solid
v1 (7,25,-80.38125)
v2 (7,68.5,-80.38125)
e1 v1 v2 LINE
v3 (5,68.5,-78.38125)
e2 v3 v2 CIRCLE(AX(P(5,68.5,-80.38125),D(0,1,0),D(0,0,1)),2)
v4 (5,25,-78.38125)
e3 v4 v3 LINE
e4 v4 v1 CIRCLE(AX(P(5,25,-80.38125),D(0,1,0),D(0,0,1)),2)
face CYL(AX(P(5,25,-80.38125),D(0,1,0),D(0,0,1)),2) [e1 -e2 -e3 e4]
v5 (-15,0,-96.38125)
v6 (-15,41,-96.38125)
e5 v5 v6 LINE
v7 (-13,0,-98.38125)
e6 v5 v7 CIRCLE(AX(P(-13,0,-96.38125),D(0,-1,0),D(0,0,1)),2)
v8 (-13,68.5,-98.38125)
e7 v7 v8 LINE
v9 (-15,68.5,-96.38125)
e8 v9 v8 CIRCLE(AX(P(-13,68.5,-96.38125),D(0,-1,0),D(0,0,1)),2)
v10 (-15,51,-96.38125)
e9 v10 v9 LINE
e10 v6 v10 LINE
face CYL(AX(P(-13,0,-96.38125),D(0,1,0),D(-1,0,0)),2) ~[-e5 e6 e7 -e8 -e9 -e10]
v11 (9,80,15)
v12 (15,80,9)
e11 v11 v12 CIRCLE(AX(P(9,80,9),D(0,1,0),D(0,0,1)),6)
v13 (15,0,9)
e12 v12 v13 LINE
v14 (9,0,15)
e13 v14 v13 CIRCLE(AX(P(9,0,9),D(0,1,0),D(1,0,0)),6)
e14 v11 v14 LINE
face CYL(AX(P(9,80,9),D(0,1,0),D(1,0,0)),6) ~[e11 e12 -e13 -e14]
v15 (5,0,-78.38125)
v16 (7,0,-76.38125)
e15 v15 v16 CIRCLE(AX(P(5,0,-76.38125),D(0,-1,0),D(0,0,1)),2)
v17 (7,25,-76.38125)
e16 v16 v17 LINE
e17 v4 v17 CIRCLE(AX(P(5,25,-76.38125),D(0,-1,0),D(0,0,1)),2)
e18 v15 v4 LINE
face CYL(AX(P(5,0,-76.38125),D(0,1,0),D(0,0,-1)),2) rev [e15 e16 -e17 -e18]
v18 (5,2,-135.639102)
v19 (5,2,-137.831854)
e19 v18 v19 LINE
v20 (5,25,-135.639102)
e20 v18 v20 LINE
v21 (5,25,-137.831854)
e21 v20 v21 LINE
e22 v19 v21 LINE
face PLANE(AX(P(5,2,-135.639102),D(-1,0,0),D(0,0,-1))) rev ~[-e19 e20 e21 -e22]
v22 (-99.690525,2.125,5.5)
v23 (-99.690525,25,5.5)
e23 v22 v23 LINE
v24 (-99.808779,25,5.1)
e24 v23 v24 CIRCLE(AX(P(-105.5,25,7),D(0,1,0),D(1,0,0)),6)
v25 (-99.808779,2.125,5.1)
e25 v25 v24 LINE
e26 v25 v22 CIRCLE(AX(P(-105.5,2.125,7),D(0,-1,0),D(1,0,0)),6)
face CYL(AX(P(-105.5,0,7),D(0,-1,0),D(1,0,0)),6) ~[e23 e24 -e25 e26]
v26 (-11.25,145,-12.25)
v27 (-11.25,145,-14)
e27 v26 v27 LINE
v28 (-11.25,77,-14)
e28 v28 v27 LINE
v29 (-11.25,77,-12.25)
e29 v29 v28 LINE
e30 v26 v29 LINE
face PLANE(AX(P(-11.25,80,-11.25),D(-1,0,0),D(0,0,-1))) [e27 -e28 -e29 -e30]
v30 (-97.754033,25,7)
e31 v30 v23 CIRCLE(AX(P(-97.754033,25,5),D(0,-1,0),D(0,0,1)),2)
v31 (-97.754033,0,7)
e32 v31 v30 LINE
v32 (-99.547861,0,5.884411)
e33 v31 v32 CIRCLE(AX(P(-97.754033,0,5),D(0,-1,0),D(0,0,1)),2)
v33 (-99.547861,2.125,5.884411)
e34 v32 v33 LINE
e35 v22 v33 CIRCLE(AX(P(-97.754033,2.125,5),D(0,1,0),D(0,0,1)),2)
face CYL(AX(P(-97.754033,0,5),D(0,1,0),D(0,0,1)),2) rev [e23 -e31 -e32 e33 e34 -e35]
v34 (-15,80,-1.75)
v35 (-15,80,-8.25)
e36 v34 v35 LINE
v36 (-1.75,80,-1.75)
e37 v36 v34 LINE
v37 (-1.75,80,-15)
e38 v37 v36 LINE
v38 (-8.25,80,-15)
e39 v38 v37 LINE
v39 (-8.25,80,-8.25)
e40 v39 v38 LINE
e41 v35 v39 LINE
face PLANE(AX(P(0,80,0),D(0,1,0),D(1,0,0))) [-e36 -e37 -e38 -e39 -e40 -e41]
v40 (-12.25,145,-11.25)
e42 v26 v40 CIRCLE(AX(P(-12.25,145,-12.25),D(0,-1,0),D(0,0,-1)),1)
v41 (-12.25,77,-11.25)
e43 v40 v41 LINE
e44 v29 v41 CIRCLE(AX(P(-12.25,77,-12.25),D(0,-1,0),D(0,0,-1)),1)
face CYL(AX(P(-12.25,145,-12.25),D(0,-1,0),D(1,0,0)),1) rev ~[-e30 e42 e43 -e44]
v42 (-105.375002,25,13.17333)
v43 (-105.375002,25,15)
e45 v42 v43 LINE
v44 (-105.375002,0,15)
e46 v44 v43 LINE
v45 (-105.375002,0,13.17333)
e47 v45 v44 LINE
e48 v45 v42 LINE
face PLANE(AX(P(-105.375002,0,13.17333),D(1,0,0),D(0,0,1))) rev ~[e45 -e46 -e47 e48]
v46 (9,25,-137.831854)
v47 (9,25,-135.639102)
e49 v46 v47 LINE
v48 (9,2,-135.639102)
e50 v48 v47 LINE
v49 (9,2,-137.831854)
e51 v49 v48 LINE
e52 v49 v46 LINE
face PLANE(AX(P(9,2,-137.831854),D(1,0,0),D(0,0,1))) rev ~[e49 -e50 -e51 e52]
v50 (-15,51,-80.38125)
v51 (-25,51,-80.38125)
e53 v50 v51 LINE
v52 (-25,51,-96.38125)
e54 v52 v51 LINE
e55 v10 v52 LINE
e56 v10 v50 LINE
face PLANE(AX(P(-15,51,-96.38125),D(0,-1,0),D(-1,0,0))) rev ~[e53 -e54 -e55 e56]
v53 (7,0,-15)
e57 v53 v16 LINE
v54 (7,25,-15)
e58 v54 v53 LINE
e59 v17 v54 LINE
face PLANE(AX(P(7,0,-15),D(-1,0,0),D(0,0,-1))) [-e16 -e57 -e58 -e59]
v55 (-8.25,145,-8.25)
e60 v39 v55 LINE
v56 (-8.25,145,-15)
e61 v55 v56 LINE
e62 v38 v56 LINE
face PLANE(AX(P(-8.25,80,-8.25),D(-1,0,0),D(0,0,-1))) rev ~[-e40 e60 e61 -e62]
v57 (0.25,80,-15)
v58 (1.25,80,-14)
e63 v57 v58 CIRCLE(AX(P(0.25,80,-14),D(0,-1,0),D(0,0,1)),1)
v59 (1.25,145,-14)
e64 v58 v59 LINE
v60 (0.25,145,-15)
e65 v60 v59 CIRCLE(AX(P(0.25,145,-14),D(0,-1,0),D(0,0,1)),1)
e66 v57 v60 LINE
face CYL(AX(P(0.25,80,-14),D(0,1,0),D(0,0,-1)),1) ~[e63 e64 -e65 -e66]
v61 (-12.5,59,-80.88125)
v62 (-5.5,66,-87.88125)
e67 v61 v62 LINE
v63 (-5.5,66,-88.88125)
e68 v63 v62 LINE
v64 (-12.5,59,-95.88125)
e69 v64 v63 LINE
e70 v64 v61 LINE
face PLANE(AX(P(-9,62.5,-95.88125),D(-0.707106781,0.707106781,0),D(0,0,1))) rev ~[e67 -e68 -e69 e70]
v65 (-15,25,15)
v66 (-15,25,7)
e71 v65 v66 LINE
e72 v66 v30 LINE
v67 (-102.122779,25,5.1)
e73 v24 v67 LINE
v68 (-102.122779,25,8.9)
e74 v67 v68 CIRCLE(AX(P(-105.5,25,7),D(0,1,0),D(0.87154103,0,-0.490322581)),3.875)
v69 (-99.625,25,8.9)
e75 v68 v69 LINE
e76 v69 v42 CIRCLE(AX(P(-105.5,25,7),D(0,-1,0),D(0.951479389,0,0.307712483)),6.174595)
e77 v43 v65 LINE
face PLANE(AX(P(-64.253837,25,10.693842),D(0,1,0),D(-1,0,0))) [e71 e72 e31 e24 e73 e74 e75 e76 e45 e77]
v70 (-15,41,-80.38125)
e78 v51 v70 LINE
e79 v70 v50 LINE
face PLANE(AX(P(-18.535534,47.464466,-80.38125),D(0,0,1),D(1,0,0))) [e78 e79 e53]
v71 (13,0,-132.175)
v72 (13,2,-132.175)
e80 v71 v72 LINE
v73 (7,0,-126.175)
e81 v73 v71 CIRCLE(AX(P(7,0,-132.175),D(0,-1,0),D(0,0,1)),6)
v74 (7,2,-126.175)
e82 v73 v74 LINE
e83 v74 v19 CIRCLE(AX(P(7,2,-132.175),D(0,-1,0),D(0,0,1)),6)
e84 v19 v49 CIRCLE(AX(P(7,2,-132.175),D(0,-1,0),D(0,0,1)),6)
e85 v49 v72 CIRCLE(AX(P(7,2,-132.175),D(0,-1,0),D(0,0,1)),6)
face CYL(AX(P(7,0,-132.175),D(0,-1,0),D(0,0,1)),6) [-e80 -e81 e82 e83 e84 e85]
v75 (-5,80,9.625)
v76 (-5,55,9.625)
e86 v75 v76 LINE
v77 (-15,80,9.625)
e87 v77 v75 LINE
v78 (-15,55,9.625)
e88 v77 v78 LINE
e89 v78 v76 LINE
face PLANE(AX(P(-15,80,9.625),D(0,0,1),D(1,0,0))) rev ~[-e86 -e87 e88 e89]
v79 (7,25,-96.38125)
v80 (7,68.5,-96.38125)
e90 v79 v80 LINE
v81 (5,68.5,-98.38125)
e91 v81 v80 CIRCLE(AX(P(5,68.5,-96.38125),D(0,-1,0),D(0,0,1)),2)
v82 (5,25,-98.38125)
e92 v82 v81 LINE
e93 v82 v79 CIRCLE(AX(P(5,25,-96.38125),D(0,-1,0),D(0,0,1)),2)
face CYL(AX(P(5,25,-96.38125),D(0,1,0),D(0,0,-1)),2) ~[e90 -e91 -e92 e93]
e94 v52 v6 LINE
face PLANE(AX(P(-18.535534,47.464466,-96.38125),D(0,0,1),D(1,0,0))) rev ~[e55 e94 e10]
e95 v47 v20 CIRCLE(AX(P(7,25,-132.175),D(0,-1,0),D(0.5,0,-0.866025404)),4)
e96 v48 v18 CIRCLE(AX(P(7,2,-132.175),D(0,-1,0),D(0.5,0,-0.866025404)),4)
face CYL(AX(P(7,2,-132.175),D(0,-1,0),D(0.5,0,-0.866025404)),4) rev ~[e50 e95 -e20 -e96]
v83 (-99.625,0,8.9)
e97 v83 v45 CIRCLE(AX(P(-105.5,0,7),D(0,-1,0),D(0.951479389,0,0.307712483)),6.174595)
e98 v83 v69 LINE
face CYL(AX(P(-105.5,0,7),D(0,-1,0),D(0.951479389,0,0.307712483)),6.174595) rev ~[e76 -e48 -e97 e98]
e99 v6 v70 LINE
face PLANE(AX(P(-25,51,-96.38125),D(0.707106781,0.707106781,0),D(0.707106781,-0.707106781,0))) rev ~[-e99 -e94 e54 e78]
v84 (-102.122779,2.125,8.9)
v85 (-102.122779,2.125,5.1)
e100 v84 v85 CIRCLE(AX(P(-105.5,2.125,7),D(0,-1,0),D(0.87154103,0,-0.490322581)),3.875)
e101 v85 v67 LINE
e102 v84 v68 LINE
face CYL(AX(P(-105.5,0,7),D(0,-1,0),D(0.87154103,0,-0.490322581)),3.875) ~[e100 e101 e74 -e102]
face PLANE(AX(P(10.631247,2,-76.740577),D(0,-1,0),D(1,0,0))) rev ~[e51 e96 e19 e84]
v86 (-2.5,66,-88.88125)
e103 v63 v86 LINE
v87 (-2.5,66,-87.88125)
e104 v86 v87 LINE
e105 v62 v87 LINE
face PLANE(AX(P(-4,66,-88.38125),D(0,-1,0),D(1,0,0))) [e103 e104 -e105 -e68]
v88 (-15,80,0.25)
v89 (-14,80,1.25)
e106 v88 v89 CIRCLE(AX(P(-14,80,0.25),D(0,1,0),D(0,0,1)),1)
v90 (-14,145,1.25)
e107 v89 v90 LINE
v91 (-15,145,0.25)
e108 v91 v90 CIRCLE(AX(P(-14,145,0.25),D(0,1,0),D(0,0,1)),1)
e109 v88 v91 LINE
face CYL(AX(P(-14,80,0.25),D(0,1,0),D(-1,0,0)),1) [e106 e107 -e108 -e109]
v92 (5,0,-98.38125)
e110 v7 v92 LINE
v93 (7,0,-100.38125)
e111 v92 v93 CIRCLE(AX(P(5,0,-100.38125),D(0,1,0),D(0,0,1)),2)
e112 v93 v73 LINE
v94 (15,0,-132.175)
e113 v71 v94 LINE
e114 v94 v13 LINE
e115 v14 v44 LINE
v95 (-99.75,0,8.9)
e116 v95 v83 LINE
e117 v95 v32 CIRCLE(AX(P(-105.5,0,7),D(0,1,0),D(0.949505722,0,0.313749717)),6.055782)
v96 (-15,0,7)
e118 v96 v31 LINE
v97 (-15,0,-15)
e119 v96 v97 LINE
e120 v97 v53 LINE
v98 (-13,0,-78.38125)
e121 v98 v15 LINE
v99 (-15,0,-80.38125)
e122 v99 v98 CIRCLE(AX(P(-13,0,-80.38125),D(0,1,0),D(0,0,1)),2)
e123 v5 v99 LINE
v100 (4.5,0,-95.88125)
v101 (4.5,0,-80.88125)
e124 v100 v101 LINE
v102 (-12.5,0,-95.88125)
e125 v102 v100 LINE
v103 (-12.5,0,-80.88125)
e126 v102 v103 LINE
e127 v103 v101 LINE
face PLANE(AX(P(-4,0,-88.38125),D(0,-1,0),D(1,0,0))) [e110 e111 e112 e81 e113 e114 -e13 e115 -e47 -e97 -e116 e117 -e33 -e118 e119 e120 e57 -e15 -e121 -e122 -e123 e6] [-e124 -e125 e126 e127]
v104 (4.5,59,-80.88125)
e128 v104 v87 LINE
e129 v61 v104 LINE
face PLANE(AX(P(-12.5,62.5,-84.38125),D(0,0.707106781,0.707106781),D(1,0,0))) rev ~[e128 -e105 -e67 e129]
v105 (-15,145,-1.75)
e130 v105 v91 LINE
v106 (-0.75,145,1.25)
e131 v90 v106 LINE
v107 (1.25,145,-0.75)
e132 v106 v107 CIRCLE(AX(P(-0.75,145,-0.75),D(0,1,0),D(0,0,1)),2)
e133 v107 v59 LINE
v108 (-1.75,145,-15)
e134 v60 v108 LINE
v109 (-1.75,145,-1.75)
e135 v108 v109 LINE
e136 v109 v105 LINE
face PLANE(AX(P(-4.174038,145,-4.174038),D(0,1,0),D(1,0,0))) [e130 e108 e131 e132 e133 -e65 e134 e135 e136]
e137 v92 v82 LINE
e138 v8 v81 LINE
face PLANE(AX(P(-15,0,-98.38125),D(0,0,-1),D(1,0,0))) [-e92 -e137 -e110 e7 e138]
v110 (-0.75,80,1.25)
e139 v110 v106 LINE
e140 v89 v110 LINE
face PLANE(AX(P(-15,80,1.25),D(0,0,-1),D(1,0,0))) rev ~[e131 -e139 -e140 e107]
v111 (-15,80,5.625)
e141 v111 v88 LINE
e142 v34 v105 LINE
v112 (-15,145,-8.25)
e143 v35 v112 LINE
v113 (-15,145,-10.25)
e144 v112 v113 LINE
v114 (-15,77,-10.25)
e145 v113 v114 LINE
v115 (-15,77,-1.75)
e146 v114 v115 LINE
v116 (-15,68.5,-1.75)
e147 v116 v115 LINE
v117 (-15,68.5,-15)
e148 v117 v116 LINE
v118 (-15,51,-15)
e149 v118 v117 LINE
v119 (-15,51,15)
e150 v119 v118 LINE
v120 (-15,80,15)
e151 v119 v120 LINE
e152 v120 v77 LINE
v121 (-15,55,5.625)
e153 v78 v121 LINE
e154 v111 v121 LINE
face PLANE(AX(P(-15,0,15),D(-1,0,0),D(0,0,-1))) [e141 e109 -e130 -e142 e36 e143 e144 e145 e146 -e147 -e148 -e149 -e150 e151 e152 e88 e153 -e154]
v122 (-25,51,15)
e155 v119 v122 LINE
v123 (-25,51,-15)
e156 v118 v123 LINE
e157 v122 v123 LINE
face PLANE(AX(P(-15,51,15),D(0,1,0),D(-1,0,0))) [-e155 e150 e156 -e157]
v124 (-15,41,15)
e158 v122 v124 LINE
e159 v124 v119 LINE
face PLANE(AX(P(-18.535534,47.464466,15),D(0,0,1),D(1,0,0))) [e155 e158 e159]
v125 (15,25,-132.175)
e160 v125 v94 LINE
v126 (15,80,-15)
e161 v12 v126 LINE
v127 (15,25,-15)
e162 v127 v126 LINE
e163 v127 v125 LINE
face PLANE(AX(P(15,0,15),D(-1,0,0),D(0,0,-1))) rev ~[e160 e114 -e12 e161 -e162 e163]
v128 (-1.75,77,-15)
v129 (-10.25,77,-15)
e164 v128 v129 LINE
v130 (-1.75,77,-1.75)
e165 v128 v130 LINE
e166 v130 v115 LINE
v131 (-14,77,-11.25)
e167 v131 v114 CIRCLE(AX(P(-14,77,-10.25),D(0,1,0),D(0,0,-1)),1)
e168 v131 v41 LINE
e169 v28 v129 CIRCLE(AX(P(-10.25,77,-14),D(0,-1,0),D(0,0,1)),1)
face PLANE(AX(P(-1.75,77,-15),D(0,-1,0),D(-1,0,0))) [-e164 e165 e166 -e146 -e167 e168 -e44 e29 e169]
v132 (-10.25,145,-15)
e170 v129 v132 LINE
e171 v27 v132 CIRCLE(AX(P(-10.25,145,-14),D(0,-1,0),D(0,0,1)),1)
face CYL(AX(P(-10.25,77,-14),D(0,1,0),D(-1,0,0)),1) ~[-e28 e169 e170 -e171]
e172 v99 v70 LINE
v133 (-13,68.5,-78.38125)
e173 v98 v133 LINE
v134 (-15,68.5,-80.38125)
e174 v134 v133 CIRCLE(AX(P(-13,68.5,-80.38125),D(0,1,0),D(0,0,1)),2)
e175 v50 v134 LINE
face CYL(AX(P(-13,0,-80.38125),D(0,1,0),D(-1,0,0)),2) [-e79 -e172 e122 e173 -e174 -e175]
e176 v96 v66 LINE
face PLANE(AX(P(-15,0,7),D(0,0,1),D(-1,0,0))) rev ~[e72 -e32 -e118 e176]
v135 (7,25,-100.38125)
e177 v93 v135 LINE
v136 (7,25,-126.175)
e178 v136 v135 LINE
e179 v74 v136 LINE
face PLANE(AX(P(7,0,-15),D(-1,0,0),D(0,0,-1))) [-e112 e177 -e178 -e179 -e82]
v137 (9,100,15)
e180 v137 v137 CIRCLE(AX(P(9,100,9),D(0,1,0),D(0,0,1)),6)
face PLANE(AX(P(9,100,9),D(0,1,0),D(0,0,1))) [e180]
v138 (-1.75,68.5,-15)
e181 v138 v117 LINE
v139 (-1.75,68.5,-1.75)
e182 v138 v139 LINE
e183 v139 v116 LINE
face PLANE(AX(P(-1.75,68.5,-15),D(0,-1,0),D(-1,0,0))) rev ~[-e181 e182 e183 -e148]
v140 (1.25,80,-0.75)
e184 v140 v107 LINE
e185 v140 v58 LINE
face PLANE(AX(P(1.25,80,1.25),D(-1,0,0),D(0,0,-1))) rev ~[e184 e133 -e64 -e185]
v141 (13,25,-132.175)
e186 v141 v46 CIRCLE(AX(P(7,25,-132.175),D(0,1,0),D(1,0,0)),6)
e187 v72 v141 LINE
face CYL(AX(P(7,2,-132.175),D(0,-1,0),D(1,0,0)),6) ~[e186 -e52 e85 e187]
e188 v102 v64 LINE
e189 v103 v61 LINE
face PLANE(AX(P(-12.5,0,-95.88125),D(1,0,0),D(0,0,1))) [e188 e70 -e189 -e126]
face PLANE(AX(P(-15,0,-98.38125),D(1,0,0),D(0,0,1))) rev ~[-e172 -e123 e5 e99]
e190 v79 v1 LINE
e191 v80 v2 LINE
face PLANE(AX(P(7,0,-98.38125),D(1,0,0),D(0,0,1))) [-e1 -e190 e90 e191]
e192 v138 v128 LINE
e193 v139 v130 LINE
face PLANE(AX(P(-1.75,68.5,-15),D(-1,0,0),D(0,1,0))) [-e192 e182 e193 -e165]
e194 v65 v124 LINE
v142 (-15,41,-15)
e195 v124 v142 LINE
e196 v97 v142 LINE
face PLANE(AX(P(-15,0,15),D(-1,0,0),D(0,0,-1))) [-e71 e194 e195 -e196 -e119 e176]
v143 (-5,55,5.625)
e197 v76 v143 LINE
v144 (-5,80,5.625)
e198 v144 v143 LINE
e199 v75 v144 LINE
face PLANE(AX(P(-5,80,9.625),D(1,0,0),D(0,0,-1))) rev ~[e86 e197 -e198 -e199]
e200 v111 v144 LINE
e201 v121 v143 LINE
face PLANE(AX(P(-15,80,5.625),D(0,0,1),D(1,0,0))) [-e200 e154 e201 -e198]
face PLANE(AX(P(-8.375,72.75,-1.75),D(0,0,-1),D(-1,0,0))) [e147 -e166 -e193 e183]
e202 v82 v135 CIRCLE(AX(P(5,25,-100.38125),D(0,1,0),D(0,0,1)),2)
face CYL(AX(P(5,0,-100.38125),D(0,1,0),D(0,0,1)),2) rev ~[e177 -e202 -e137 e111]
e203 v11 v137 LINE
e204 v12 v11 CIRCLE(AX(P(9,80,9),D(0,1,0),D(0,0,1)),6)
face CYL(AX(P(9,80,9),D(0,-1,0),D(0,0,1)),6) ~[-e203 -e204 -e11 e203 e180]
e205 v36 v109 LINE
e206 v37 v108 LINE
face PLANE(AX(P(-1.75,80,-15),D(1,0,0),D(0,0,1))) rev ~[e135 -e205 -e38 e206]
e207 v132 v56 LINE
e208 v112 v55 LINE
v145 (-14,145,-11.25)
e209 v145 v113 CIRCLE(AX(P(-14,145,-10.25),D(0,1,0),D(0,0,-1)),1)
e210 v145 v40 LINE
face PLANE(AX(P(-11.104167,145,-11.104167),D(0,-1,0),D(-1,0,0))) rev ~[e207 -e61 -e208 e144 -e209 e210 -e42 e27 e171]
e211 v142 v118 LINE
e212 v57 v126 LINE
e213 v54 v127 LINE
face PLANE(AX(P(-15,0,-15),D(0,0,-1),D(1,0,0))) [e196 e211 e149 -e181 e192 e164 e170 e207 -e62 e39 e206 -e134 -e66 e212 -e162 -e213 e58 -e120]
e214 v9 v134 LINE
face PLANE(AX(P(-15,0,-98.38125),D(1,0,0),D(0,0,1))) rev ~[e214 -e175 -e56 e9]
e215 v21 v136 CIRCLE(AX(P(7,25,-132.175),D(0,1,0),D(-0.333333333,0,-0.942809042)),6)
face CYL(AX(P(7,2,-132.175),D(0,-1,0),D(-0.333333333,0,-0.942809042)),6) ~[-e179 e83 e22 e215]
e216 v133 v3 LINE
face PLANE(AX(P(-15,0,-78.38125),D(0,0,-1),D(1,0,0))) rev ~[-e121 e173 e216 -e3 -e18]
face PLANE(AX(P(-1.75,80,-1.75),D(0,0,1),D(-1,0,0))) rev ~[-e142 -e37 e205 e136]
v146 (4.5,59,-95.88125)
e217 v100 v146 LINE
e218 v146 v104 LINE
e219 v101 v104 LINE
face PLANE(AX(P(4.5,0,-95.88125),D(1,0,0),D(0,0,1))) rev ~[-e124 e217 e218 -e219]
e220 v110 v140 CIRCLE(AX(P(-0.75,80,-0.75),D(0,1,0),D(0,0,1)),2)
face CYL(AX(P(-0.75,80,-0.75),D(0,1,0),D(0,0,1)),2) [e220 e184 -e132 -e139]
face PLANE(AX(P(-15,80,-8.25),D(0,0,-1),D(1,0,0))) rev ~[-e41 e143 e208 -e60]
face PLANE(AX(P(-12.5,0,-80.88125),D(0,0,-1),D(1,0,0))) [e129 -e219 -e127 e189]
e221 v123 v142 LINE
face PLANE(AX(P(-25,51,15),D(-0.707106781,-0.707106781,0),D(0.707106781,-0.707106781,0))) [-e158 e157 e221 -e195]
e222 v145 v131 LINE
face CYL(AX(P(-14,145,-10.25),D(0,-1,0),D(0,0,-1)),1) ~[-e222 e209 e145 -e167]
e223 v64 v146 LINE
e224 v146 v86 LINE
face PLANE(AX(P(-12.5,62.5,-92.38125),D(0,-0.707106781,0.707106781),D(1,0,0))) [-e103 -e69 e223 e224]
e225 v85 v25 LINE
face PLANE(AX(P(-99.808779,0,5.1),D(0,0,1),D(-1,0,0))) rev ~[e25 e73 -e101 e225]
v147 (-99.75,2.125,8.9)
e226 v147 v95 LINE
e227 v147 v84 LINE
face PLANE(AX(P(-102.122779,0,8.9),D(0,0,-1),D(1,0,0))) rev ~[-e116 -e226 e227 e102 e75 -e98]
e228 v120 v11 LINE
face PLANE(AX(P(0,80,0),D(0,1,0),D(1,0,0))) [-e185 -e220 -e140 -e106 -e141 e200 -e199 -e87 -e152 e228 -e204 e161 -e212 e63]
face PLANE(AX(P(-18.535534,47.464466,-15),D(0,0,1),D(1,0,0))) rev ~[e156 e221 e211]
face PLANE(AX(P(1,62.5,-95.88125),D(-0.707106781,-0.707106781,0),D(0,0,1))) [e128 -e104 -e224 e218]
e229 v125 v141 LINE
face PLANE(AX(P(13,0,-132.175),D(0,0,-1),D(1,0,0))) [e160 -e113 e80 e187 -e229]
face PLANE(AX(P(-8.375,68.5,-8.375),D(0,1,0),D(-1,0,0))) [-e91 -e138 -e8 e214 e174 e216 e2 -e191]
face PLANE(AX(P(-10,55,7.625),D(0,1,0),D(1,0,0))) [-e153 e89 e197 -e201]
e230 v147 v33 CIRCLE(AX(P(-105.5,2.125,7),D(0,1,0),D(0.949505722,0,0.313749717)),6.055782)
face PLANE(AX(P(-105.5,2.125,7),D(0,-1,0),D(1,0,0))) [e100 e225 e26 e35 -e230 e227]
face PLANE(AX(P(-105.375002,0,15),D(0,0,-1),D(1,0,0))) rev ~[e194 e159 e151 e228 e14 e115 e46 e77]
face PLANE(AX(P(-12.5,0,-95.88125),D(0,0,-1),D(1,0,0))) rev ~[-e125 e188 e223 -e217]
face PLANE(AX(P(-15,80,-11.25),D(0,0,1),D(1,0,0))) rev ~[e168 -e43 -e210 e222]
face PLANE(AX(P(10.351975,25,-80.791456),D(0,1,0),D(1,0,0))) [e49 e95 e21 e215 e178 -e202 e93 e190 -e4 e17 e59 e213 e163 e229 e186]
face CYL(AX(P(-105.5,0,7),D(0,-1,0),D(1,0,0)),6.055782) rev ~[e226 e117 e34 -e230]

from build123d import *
from build123d.topology import SkipClean

# Parameters (mm, degrees)
SKETCH1_W                 = 30
SKETCH1_H                 = 30
BOSS_EXTRUDE1_DEPTH       = 80
SKETCH2_R                 = 6
BOSS_EXTRUDE2_DEPTH       = 20
CUT_EXTRUDE1_DEPTH        = 83.764726786
BOSS_EXTRUDE3_DEPTH       = 65
BOSS_EXTRUDE5_DEPTH       = 2
BOSS_EXTRUDE6_DEPTH       = 23
BOSS_EXTRUDE7_DEPTH       = 25
FILLET1_R                 = 2
SKETCH11_R                = 6.055782361
CUT_EXTRUDE2_DEPTH        = 2.125
SKETCH12_W                = 13.25
SKETCH12_H                = 8.5
CUT_EXTRUDE3_DEPTH        = 13.25
FILLET2_R                 = 2
CUT_EXTRUDE4_REACH        = 195.534
SKETCH14_W                = 3.75
SKETCH14_H                = 3.75
FILLET3_R                 = 1
SKETCH15_W                = 10
SKETCH15_H                = 4
CUT_EXTRUDE5_DEPTH        = 25
BOSS_EXTRUDE8_REACH       = 230.211
SKETCH17_W                = 22
SKETCH17_H                = 20
SKETCH18_W                = 17
SKETCH18_H                = 15
CUT_EXTRUDE6_DEPTH        = 66
FILLET4_R                 = 2
FILLET5_R                 = 2
CHAMFER1_SIZE             = 7
BOSS_EXTRUDE9_DEPTH       = 30
BOSS_EXTRUDE10_DEPTH      = 8
BOSS_EXTRUDE10_DEPTH_BACK = 8


with BuildPart() as part:
    # Sketch1 → Boss-Extrude1 (new body)
    with BuildSketch(Plane(origin=(0, 0, 0), x_dir=(1, 0, 0), z_dir=(0, 1, 0))):
        Rectangle(SKETCH1_W, SKETCH1_H)
    extrude(amount=BOSS_EXTRUDE1_DEPTH)

    # Sketch2 → Boss-Extrude2 (add)
    with BuildSketch(Plane(origin=(0, 80, 0), x_dir=(1, 0, 0), z_dir=(0, 1, 0))):
        with Locations(Location((9, -9, 0), (0, 0, 270))):
            Circle(SKETCH2_R)
    extrude(amount=BOSS_EXTRUDE2_DEPTH)

    # Sketch3 → Cut-Extrude1 (cut, through all)
    with BuildSketch(Plane(origin=(0, 80, 0), x_dir=(1, 0, 0), z_dir=(0, 1, 0))):
        with BuildLine():
            Line((9, -15), (15, -15))
            Line((15, -15), (15, -9))
            ThreePointArc((15, -9), (13.242640687, -13.242640687), (9, -15))
        make_face()
    extrude(amount=-CUT_EXTRUDE1_DEPTH, mode=Mode.SUBTRACT)

    # Sketch4 → Boss-Extrude3 (add)
    with BuildSketch(Plane(origin=(0, 80, 0), x_dir=(1, 0, 0), z_dir=(0, 1, 0))):
        Polygon((-8.25, 11.25), (-8.25, 8.25), (-11.25, 8.25), (-15, 8.25), (-15, 11.25), (-11.25, 11.25), (-11.25, 15), (-8.25, 15), align=None)
        Polygon((-1.75, 1.75), (-11.25, 1.75), (-15, 1.75), (-15, -1.25), (-11.25, -1.25), (1.25, -1.25), (1.25, 11.25), (1.25, 15), (-1.75, 15), (-1.75, 11.25), align=None)
    extrude(amount=BOSS_EXTRUDE3_DEPTH)

    # Sketch6 → Boss-Extrude5 (add)
    with BuildSketch(Plane.XZ):
        with BuildLine():
            Line((15, -15), (7, -15))
            Line((7, -15), (7, -126.175))
            ThreePointArc((7, -126.175), (2.757359313, -136.417640687), (13, -132.175))
            Line((13, -132.175), (15, -132.175))
            Line((15, -132.175), (15, -15))
        make_face()
    extrude(amount=-BOSS_EXTRUDE5_DEPTH)

    # Sketch7 → Boss-Extrude6 (add)
    with SkipClean():  # the faces are left unmerged after this step: merging them gives an invalid solid
        with BuildSketch(Plane(origin=(0, 2, 0), x_dir=(1, 0, 0), z_dir=(0, 1, 0))):
            with BuildLine():
                Line((9, 137.831854249), (9, 135.639101615))
                ThreePointArc((9, 135.639101615), (7, 128.175), (5, 135.639101615))
                Line((5, 135.639101615), (5, 137.831854249))
                ThreePointArc((5, 137.831854249), (1.086408642, 131.160388128), (7, 126.175))
                Line((7, 126.175), (7, 15))
                Line((7, 15), (15, 15))
                Line((15, 15), (15, 132.175))
                Line((15, 132.175), (13, 132.175))
                ThreePointArc((13, 132.175), (11.898979486, 135.639101615), (9, 137.831854249))
            make_face()
        extrude(amount=BOSS_EXTRUDE6_DEPTH)

    # Sketch9 → Boss-Extrude7 (add)
    with SkipClean():  # the faces are left unmerged after this step: merging them gives an invalid solid
        with BuildSketch(Plane.XZ):
            with BuildLine():
                Line((-15, 15), (-15, 7))
                Line((-15, 7), (-99.5, 7))
                ThreePointArc((-99.5, 7), (-99.577697751, 6.037536458), (-99.80877869, 5.1))
                Line((-99.80877869, 5.1), (-102.122778509, 5.1))
                ThreePointArc((-102.122778509, 5.1), (-109.375, 7), (-102.122778509, 8.9))
                Line((-102.122778509, 8.9), (-99.625, 8.9))
                ThreePointArc((-99.625, 8.9), (-101.816885554, 11.955834237), (-105.375001601, 13.173329766))
                Line((-105.375001601, 13.173329766), (-105.375001601, 15))
                Line((-105.375001601, 15), (-15, 15))
            make_face()
        extrude(amount=-BOSS_EXTRUDE7_DEPTH)

    # Fillet1
    fillet1_edges = [part.edges().sort_by_distance(p)[0] for p in [
        (-99.5, 12.5, 7),
    ]]
    fillet(fillet1_edges, radius=FILLET1_R)

    # Sketch11 → Cut-Extrude2 (cut)
    with SkipClean():  # the faces are left unmerged after this step: merging them gives an invalid solid
        with BuildSketch(Plane.XZ):
            with Locations((-105.5, 7)):
                Circle(SKETCH11_R)
        extrude(amount=-CUT_EXTRUDE2_DEPTH, mode=Mode.SUBTRACT)

    # Sketch12 → Cut-Extrude3 (cut)
    with SkipClean():  # the faces are left unmerged after this step: merging them gives an invalid solid
        with BuildSketch(Plane(origin=(0, 0, -15), x_dir=(-1, 0, 0), z_dir=(0, 0, -1))):
            with Locations((8.375, 72.75)):
                Rectangle(SKETCH12_W, SKETCH12_H)
        extrude(amount=-CUT_EXTRUDE3_DEPTH, mode=Mode.SUBTRACT)

    # Fillet2
    fillet2_edges = [part.edges().sort_by_distance(p)[0] for p in [
        (1.25, 112.5, 1.25),
    ]]
    fillet(fillet2_edges, radius=FILLET2_R)

    # Sketch14 → Cut-Extrude4 (cut, up to next)
    with BuildSketch(Plane(origin=(0, 80, 0), x_dir=(1, 0, 0), z_dir=(0, 1, 0)), mode=Mode.PRIVATE) as cut_extrude4_sk1:
        with Locations((-13.125, 13.125)):
            Rectangle(SKETCH14_W, SKETCH14_H)
    cut_extrude4_tool1 = extrude(cut_extrude4_sk1.sketch, amount=-CUT_EXTRUDE4_REACH, mode=Mode.PRIVATE) & part.part
    add(cut_extrude4_tool1.solids().sort_by_distance((-13.125, 80, -13.125))[0], mode=Mode.SUBTRACT)

    # Fillet3
    fillet3_edges = [part.edges().sort_by_distance(p)[0] for p in [
        (-11.25, 112.5, -15),
        (-11.25, 112.5, -11.25),
        (-15, 112.5, -11.25),
        (-15, 112.5, 1.25),
        (1.25, 112.5, -15),
    ]]
    fillet(fillet3_edges, radius=FILLET3_R)

    # Sketch15 → Cut-Extrude5 (cut)
    with SkipClean():  # the faces are left unmerged after this step: merging them gives an invalid solid
        with BuildSketch(Plane(origin=(0, 80, 0), x_dir=(1, 0, 0), z_dir=(0, 1, 0))):
            with Locations((-10, -7.625)):
                Rectangle(SKETCH15_W, SKETCH15_H)
        extrude(amount=-CUT_EXTRUDE5_DEPTH, mode=Mode.SUBTRACT)

    # Boss-Extrude8: up to this face of the body (flat: up to its plane)
    boss_extrude8_end = Plane(part.part.faces().sort_by_distance((-8.375, 68.5, -8.375))[0])
    # Sketch17 → Boss-Extrude8 (add, up to the picked face)
    with BuildSketch(Plane.XZ, mode=Mode.PRIVATE) as boss_extrude8_sk1:
        with Locations((-4, -88.38125)):
            Rectangle(SKETCH17_W, SKETCH17_H)
    boss_extrude8_tool1 = split(extrude(boss_extrude8_sk1.sketch, amount=-BOSS_EXTRUDE8_REACH, mode=Mode.PRIVATE), bisect_by=boss_extrude8_end, keep=Keep.BOTH, mode=Mode.PRIVATE)
    add(boss_extrude8_tool1.solids().sort_by(Axis((-4, 0, -88.38125), (0, 1, 0)))[0])

    # Sketch18 → Cut-Extrude6 (cut)
    with SkipClean():  # the faces are left unmerged after this step: merging them gives an invalid solid
        with BuildSketch(Plane.XZ):
            with Locations((-4, -88.38125)):
                Rectangle(SKETCH18_W, SKETCH18_H)
        extrude(amount=-CUT_EXTRUDE6_DEPTH, mode=Mode.SUBTRACT)

    # Fillet4
    fillet4_edges = [part.edges().sort_by_distance(p)[0] for p in [
        (7, 13.5, -78.38125),
        (7, 13.5, -98.38125),
        (-15, 34.25, -98.38125),
        (-15, 34.25, -78.38125),
    ]]
    fillet(fillet4_edges, radius=FILLET4_R)

    # Fillet5
    fillet5_edges = [part.edges().sort_by_distance(p)[0] for p in [
        (7, 46.75, -78.38125),
        (7, 46.75, -98.38125),
    ]]
    fillet(fillet5_edges, radius=FILLET5_R)

    # Chamfer1
    chamfer1_edges = [part.edges().sort_by_distance(p)[0] for p in [
        (-12.5, 66, -88.38125),
        (-4, 66, -80.88125),
        (4.5, 66, -88.38125),
        (-4, 66, -95.88125),
    ]]
    chamfer(chamfer1_edges, length=CHAMFER1_SIZE)

    # Sketch19 → Boss-Extrude9 (add)
    with SkipClean():  # the faces are left unmerged after this step: merging them gives an invalid solid
        with BuildSketch(Plane.XY.offset(15)):
            Polygon((-15, 41), (-15, 51), (-25, 51), align=None)
        extrude(amount=-BOSS_EXTRUDE9_DEPTH)

    # Sketch20 → Boss-Extrude10 (add, two sides: drawn at the far end of the back side and taken through both)
    with SkipClean():  # the faces are left unmerged after this step: merging them gives an invalid solid
        with BuildSketch(Plane.XY.offset(-88.38125).offset(-BOSS_EXTRUDE10_DEPTH_BACK)):
            Polygon((-15, 41), (-15, 51), (-25, 51), align=None)
        extrude(amount=BOSS_EXTRUDE10_DEPTH + BOSS_EXTRUDE10_DEPTH_BACK)


solid = part.part
